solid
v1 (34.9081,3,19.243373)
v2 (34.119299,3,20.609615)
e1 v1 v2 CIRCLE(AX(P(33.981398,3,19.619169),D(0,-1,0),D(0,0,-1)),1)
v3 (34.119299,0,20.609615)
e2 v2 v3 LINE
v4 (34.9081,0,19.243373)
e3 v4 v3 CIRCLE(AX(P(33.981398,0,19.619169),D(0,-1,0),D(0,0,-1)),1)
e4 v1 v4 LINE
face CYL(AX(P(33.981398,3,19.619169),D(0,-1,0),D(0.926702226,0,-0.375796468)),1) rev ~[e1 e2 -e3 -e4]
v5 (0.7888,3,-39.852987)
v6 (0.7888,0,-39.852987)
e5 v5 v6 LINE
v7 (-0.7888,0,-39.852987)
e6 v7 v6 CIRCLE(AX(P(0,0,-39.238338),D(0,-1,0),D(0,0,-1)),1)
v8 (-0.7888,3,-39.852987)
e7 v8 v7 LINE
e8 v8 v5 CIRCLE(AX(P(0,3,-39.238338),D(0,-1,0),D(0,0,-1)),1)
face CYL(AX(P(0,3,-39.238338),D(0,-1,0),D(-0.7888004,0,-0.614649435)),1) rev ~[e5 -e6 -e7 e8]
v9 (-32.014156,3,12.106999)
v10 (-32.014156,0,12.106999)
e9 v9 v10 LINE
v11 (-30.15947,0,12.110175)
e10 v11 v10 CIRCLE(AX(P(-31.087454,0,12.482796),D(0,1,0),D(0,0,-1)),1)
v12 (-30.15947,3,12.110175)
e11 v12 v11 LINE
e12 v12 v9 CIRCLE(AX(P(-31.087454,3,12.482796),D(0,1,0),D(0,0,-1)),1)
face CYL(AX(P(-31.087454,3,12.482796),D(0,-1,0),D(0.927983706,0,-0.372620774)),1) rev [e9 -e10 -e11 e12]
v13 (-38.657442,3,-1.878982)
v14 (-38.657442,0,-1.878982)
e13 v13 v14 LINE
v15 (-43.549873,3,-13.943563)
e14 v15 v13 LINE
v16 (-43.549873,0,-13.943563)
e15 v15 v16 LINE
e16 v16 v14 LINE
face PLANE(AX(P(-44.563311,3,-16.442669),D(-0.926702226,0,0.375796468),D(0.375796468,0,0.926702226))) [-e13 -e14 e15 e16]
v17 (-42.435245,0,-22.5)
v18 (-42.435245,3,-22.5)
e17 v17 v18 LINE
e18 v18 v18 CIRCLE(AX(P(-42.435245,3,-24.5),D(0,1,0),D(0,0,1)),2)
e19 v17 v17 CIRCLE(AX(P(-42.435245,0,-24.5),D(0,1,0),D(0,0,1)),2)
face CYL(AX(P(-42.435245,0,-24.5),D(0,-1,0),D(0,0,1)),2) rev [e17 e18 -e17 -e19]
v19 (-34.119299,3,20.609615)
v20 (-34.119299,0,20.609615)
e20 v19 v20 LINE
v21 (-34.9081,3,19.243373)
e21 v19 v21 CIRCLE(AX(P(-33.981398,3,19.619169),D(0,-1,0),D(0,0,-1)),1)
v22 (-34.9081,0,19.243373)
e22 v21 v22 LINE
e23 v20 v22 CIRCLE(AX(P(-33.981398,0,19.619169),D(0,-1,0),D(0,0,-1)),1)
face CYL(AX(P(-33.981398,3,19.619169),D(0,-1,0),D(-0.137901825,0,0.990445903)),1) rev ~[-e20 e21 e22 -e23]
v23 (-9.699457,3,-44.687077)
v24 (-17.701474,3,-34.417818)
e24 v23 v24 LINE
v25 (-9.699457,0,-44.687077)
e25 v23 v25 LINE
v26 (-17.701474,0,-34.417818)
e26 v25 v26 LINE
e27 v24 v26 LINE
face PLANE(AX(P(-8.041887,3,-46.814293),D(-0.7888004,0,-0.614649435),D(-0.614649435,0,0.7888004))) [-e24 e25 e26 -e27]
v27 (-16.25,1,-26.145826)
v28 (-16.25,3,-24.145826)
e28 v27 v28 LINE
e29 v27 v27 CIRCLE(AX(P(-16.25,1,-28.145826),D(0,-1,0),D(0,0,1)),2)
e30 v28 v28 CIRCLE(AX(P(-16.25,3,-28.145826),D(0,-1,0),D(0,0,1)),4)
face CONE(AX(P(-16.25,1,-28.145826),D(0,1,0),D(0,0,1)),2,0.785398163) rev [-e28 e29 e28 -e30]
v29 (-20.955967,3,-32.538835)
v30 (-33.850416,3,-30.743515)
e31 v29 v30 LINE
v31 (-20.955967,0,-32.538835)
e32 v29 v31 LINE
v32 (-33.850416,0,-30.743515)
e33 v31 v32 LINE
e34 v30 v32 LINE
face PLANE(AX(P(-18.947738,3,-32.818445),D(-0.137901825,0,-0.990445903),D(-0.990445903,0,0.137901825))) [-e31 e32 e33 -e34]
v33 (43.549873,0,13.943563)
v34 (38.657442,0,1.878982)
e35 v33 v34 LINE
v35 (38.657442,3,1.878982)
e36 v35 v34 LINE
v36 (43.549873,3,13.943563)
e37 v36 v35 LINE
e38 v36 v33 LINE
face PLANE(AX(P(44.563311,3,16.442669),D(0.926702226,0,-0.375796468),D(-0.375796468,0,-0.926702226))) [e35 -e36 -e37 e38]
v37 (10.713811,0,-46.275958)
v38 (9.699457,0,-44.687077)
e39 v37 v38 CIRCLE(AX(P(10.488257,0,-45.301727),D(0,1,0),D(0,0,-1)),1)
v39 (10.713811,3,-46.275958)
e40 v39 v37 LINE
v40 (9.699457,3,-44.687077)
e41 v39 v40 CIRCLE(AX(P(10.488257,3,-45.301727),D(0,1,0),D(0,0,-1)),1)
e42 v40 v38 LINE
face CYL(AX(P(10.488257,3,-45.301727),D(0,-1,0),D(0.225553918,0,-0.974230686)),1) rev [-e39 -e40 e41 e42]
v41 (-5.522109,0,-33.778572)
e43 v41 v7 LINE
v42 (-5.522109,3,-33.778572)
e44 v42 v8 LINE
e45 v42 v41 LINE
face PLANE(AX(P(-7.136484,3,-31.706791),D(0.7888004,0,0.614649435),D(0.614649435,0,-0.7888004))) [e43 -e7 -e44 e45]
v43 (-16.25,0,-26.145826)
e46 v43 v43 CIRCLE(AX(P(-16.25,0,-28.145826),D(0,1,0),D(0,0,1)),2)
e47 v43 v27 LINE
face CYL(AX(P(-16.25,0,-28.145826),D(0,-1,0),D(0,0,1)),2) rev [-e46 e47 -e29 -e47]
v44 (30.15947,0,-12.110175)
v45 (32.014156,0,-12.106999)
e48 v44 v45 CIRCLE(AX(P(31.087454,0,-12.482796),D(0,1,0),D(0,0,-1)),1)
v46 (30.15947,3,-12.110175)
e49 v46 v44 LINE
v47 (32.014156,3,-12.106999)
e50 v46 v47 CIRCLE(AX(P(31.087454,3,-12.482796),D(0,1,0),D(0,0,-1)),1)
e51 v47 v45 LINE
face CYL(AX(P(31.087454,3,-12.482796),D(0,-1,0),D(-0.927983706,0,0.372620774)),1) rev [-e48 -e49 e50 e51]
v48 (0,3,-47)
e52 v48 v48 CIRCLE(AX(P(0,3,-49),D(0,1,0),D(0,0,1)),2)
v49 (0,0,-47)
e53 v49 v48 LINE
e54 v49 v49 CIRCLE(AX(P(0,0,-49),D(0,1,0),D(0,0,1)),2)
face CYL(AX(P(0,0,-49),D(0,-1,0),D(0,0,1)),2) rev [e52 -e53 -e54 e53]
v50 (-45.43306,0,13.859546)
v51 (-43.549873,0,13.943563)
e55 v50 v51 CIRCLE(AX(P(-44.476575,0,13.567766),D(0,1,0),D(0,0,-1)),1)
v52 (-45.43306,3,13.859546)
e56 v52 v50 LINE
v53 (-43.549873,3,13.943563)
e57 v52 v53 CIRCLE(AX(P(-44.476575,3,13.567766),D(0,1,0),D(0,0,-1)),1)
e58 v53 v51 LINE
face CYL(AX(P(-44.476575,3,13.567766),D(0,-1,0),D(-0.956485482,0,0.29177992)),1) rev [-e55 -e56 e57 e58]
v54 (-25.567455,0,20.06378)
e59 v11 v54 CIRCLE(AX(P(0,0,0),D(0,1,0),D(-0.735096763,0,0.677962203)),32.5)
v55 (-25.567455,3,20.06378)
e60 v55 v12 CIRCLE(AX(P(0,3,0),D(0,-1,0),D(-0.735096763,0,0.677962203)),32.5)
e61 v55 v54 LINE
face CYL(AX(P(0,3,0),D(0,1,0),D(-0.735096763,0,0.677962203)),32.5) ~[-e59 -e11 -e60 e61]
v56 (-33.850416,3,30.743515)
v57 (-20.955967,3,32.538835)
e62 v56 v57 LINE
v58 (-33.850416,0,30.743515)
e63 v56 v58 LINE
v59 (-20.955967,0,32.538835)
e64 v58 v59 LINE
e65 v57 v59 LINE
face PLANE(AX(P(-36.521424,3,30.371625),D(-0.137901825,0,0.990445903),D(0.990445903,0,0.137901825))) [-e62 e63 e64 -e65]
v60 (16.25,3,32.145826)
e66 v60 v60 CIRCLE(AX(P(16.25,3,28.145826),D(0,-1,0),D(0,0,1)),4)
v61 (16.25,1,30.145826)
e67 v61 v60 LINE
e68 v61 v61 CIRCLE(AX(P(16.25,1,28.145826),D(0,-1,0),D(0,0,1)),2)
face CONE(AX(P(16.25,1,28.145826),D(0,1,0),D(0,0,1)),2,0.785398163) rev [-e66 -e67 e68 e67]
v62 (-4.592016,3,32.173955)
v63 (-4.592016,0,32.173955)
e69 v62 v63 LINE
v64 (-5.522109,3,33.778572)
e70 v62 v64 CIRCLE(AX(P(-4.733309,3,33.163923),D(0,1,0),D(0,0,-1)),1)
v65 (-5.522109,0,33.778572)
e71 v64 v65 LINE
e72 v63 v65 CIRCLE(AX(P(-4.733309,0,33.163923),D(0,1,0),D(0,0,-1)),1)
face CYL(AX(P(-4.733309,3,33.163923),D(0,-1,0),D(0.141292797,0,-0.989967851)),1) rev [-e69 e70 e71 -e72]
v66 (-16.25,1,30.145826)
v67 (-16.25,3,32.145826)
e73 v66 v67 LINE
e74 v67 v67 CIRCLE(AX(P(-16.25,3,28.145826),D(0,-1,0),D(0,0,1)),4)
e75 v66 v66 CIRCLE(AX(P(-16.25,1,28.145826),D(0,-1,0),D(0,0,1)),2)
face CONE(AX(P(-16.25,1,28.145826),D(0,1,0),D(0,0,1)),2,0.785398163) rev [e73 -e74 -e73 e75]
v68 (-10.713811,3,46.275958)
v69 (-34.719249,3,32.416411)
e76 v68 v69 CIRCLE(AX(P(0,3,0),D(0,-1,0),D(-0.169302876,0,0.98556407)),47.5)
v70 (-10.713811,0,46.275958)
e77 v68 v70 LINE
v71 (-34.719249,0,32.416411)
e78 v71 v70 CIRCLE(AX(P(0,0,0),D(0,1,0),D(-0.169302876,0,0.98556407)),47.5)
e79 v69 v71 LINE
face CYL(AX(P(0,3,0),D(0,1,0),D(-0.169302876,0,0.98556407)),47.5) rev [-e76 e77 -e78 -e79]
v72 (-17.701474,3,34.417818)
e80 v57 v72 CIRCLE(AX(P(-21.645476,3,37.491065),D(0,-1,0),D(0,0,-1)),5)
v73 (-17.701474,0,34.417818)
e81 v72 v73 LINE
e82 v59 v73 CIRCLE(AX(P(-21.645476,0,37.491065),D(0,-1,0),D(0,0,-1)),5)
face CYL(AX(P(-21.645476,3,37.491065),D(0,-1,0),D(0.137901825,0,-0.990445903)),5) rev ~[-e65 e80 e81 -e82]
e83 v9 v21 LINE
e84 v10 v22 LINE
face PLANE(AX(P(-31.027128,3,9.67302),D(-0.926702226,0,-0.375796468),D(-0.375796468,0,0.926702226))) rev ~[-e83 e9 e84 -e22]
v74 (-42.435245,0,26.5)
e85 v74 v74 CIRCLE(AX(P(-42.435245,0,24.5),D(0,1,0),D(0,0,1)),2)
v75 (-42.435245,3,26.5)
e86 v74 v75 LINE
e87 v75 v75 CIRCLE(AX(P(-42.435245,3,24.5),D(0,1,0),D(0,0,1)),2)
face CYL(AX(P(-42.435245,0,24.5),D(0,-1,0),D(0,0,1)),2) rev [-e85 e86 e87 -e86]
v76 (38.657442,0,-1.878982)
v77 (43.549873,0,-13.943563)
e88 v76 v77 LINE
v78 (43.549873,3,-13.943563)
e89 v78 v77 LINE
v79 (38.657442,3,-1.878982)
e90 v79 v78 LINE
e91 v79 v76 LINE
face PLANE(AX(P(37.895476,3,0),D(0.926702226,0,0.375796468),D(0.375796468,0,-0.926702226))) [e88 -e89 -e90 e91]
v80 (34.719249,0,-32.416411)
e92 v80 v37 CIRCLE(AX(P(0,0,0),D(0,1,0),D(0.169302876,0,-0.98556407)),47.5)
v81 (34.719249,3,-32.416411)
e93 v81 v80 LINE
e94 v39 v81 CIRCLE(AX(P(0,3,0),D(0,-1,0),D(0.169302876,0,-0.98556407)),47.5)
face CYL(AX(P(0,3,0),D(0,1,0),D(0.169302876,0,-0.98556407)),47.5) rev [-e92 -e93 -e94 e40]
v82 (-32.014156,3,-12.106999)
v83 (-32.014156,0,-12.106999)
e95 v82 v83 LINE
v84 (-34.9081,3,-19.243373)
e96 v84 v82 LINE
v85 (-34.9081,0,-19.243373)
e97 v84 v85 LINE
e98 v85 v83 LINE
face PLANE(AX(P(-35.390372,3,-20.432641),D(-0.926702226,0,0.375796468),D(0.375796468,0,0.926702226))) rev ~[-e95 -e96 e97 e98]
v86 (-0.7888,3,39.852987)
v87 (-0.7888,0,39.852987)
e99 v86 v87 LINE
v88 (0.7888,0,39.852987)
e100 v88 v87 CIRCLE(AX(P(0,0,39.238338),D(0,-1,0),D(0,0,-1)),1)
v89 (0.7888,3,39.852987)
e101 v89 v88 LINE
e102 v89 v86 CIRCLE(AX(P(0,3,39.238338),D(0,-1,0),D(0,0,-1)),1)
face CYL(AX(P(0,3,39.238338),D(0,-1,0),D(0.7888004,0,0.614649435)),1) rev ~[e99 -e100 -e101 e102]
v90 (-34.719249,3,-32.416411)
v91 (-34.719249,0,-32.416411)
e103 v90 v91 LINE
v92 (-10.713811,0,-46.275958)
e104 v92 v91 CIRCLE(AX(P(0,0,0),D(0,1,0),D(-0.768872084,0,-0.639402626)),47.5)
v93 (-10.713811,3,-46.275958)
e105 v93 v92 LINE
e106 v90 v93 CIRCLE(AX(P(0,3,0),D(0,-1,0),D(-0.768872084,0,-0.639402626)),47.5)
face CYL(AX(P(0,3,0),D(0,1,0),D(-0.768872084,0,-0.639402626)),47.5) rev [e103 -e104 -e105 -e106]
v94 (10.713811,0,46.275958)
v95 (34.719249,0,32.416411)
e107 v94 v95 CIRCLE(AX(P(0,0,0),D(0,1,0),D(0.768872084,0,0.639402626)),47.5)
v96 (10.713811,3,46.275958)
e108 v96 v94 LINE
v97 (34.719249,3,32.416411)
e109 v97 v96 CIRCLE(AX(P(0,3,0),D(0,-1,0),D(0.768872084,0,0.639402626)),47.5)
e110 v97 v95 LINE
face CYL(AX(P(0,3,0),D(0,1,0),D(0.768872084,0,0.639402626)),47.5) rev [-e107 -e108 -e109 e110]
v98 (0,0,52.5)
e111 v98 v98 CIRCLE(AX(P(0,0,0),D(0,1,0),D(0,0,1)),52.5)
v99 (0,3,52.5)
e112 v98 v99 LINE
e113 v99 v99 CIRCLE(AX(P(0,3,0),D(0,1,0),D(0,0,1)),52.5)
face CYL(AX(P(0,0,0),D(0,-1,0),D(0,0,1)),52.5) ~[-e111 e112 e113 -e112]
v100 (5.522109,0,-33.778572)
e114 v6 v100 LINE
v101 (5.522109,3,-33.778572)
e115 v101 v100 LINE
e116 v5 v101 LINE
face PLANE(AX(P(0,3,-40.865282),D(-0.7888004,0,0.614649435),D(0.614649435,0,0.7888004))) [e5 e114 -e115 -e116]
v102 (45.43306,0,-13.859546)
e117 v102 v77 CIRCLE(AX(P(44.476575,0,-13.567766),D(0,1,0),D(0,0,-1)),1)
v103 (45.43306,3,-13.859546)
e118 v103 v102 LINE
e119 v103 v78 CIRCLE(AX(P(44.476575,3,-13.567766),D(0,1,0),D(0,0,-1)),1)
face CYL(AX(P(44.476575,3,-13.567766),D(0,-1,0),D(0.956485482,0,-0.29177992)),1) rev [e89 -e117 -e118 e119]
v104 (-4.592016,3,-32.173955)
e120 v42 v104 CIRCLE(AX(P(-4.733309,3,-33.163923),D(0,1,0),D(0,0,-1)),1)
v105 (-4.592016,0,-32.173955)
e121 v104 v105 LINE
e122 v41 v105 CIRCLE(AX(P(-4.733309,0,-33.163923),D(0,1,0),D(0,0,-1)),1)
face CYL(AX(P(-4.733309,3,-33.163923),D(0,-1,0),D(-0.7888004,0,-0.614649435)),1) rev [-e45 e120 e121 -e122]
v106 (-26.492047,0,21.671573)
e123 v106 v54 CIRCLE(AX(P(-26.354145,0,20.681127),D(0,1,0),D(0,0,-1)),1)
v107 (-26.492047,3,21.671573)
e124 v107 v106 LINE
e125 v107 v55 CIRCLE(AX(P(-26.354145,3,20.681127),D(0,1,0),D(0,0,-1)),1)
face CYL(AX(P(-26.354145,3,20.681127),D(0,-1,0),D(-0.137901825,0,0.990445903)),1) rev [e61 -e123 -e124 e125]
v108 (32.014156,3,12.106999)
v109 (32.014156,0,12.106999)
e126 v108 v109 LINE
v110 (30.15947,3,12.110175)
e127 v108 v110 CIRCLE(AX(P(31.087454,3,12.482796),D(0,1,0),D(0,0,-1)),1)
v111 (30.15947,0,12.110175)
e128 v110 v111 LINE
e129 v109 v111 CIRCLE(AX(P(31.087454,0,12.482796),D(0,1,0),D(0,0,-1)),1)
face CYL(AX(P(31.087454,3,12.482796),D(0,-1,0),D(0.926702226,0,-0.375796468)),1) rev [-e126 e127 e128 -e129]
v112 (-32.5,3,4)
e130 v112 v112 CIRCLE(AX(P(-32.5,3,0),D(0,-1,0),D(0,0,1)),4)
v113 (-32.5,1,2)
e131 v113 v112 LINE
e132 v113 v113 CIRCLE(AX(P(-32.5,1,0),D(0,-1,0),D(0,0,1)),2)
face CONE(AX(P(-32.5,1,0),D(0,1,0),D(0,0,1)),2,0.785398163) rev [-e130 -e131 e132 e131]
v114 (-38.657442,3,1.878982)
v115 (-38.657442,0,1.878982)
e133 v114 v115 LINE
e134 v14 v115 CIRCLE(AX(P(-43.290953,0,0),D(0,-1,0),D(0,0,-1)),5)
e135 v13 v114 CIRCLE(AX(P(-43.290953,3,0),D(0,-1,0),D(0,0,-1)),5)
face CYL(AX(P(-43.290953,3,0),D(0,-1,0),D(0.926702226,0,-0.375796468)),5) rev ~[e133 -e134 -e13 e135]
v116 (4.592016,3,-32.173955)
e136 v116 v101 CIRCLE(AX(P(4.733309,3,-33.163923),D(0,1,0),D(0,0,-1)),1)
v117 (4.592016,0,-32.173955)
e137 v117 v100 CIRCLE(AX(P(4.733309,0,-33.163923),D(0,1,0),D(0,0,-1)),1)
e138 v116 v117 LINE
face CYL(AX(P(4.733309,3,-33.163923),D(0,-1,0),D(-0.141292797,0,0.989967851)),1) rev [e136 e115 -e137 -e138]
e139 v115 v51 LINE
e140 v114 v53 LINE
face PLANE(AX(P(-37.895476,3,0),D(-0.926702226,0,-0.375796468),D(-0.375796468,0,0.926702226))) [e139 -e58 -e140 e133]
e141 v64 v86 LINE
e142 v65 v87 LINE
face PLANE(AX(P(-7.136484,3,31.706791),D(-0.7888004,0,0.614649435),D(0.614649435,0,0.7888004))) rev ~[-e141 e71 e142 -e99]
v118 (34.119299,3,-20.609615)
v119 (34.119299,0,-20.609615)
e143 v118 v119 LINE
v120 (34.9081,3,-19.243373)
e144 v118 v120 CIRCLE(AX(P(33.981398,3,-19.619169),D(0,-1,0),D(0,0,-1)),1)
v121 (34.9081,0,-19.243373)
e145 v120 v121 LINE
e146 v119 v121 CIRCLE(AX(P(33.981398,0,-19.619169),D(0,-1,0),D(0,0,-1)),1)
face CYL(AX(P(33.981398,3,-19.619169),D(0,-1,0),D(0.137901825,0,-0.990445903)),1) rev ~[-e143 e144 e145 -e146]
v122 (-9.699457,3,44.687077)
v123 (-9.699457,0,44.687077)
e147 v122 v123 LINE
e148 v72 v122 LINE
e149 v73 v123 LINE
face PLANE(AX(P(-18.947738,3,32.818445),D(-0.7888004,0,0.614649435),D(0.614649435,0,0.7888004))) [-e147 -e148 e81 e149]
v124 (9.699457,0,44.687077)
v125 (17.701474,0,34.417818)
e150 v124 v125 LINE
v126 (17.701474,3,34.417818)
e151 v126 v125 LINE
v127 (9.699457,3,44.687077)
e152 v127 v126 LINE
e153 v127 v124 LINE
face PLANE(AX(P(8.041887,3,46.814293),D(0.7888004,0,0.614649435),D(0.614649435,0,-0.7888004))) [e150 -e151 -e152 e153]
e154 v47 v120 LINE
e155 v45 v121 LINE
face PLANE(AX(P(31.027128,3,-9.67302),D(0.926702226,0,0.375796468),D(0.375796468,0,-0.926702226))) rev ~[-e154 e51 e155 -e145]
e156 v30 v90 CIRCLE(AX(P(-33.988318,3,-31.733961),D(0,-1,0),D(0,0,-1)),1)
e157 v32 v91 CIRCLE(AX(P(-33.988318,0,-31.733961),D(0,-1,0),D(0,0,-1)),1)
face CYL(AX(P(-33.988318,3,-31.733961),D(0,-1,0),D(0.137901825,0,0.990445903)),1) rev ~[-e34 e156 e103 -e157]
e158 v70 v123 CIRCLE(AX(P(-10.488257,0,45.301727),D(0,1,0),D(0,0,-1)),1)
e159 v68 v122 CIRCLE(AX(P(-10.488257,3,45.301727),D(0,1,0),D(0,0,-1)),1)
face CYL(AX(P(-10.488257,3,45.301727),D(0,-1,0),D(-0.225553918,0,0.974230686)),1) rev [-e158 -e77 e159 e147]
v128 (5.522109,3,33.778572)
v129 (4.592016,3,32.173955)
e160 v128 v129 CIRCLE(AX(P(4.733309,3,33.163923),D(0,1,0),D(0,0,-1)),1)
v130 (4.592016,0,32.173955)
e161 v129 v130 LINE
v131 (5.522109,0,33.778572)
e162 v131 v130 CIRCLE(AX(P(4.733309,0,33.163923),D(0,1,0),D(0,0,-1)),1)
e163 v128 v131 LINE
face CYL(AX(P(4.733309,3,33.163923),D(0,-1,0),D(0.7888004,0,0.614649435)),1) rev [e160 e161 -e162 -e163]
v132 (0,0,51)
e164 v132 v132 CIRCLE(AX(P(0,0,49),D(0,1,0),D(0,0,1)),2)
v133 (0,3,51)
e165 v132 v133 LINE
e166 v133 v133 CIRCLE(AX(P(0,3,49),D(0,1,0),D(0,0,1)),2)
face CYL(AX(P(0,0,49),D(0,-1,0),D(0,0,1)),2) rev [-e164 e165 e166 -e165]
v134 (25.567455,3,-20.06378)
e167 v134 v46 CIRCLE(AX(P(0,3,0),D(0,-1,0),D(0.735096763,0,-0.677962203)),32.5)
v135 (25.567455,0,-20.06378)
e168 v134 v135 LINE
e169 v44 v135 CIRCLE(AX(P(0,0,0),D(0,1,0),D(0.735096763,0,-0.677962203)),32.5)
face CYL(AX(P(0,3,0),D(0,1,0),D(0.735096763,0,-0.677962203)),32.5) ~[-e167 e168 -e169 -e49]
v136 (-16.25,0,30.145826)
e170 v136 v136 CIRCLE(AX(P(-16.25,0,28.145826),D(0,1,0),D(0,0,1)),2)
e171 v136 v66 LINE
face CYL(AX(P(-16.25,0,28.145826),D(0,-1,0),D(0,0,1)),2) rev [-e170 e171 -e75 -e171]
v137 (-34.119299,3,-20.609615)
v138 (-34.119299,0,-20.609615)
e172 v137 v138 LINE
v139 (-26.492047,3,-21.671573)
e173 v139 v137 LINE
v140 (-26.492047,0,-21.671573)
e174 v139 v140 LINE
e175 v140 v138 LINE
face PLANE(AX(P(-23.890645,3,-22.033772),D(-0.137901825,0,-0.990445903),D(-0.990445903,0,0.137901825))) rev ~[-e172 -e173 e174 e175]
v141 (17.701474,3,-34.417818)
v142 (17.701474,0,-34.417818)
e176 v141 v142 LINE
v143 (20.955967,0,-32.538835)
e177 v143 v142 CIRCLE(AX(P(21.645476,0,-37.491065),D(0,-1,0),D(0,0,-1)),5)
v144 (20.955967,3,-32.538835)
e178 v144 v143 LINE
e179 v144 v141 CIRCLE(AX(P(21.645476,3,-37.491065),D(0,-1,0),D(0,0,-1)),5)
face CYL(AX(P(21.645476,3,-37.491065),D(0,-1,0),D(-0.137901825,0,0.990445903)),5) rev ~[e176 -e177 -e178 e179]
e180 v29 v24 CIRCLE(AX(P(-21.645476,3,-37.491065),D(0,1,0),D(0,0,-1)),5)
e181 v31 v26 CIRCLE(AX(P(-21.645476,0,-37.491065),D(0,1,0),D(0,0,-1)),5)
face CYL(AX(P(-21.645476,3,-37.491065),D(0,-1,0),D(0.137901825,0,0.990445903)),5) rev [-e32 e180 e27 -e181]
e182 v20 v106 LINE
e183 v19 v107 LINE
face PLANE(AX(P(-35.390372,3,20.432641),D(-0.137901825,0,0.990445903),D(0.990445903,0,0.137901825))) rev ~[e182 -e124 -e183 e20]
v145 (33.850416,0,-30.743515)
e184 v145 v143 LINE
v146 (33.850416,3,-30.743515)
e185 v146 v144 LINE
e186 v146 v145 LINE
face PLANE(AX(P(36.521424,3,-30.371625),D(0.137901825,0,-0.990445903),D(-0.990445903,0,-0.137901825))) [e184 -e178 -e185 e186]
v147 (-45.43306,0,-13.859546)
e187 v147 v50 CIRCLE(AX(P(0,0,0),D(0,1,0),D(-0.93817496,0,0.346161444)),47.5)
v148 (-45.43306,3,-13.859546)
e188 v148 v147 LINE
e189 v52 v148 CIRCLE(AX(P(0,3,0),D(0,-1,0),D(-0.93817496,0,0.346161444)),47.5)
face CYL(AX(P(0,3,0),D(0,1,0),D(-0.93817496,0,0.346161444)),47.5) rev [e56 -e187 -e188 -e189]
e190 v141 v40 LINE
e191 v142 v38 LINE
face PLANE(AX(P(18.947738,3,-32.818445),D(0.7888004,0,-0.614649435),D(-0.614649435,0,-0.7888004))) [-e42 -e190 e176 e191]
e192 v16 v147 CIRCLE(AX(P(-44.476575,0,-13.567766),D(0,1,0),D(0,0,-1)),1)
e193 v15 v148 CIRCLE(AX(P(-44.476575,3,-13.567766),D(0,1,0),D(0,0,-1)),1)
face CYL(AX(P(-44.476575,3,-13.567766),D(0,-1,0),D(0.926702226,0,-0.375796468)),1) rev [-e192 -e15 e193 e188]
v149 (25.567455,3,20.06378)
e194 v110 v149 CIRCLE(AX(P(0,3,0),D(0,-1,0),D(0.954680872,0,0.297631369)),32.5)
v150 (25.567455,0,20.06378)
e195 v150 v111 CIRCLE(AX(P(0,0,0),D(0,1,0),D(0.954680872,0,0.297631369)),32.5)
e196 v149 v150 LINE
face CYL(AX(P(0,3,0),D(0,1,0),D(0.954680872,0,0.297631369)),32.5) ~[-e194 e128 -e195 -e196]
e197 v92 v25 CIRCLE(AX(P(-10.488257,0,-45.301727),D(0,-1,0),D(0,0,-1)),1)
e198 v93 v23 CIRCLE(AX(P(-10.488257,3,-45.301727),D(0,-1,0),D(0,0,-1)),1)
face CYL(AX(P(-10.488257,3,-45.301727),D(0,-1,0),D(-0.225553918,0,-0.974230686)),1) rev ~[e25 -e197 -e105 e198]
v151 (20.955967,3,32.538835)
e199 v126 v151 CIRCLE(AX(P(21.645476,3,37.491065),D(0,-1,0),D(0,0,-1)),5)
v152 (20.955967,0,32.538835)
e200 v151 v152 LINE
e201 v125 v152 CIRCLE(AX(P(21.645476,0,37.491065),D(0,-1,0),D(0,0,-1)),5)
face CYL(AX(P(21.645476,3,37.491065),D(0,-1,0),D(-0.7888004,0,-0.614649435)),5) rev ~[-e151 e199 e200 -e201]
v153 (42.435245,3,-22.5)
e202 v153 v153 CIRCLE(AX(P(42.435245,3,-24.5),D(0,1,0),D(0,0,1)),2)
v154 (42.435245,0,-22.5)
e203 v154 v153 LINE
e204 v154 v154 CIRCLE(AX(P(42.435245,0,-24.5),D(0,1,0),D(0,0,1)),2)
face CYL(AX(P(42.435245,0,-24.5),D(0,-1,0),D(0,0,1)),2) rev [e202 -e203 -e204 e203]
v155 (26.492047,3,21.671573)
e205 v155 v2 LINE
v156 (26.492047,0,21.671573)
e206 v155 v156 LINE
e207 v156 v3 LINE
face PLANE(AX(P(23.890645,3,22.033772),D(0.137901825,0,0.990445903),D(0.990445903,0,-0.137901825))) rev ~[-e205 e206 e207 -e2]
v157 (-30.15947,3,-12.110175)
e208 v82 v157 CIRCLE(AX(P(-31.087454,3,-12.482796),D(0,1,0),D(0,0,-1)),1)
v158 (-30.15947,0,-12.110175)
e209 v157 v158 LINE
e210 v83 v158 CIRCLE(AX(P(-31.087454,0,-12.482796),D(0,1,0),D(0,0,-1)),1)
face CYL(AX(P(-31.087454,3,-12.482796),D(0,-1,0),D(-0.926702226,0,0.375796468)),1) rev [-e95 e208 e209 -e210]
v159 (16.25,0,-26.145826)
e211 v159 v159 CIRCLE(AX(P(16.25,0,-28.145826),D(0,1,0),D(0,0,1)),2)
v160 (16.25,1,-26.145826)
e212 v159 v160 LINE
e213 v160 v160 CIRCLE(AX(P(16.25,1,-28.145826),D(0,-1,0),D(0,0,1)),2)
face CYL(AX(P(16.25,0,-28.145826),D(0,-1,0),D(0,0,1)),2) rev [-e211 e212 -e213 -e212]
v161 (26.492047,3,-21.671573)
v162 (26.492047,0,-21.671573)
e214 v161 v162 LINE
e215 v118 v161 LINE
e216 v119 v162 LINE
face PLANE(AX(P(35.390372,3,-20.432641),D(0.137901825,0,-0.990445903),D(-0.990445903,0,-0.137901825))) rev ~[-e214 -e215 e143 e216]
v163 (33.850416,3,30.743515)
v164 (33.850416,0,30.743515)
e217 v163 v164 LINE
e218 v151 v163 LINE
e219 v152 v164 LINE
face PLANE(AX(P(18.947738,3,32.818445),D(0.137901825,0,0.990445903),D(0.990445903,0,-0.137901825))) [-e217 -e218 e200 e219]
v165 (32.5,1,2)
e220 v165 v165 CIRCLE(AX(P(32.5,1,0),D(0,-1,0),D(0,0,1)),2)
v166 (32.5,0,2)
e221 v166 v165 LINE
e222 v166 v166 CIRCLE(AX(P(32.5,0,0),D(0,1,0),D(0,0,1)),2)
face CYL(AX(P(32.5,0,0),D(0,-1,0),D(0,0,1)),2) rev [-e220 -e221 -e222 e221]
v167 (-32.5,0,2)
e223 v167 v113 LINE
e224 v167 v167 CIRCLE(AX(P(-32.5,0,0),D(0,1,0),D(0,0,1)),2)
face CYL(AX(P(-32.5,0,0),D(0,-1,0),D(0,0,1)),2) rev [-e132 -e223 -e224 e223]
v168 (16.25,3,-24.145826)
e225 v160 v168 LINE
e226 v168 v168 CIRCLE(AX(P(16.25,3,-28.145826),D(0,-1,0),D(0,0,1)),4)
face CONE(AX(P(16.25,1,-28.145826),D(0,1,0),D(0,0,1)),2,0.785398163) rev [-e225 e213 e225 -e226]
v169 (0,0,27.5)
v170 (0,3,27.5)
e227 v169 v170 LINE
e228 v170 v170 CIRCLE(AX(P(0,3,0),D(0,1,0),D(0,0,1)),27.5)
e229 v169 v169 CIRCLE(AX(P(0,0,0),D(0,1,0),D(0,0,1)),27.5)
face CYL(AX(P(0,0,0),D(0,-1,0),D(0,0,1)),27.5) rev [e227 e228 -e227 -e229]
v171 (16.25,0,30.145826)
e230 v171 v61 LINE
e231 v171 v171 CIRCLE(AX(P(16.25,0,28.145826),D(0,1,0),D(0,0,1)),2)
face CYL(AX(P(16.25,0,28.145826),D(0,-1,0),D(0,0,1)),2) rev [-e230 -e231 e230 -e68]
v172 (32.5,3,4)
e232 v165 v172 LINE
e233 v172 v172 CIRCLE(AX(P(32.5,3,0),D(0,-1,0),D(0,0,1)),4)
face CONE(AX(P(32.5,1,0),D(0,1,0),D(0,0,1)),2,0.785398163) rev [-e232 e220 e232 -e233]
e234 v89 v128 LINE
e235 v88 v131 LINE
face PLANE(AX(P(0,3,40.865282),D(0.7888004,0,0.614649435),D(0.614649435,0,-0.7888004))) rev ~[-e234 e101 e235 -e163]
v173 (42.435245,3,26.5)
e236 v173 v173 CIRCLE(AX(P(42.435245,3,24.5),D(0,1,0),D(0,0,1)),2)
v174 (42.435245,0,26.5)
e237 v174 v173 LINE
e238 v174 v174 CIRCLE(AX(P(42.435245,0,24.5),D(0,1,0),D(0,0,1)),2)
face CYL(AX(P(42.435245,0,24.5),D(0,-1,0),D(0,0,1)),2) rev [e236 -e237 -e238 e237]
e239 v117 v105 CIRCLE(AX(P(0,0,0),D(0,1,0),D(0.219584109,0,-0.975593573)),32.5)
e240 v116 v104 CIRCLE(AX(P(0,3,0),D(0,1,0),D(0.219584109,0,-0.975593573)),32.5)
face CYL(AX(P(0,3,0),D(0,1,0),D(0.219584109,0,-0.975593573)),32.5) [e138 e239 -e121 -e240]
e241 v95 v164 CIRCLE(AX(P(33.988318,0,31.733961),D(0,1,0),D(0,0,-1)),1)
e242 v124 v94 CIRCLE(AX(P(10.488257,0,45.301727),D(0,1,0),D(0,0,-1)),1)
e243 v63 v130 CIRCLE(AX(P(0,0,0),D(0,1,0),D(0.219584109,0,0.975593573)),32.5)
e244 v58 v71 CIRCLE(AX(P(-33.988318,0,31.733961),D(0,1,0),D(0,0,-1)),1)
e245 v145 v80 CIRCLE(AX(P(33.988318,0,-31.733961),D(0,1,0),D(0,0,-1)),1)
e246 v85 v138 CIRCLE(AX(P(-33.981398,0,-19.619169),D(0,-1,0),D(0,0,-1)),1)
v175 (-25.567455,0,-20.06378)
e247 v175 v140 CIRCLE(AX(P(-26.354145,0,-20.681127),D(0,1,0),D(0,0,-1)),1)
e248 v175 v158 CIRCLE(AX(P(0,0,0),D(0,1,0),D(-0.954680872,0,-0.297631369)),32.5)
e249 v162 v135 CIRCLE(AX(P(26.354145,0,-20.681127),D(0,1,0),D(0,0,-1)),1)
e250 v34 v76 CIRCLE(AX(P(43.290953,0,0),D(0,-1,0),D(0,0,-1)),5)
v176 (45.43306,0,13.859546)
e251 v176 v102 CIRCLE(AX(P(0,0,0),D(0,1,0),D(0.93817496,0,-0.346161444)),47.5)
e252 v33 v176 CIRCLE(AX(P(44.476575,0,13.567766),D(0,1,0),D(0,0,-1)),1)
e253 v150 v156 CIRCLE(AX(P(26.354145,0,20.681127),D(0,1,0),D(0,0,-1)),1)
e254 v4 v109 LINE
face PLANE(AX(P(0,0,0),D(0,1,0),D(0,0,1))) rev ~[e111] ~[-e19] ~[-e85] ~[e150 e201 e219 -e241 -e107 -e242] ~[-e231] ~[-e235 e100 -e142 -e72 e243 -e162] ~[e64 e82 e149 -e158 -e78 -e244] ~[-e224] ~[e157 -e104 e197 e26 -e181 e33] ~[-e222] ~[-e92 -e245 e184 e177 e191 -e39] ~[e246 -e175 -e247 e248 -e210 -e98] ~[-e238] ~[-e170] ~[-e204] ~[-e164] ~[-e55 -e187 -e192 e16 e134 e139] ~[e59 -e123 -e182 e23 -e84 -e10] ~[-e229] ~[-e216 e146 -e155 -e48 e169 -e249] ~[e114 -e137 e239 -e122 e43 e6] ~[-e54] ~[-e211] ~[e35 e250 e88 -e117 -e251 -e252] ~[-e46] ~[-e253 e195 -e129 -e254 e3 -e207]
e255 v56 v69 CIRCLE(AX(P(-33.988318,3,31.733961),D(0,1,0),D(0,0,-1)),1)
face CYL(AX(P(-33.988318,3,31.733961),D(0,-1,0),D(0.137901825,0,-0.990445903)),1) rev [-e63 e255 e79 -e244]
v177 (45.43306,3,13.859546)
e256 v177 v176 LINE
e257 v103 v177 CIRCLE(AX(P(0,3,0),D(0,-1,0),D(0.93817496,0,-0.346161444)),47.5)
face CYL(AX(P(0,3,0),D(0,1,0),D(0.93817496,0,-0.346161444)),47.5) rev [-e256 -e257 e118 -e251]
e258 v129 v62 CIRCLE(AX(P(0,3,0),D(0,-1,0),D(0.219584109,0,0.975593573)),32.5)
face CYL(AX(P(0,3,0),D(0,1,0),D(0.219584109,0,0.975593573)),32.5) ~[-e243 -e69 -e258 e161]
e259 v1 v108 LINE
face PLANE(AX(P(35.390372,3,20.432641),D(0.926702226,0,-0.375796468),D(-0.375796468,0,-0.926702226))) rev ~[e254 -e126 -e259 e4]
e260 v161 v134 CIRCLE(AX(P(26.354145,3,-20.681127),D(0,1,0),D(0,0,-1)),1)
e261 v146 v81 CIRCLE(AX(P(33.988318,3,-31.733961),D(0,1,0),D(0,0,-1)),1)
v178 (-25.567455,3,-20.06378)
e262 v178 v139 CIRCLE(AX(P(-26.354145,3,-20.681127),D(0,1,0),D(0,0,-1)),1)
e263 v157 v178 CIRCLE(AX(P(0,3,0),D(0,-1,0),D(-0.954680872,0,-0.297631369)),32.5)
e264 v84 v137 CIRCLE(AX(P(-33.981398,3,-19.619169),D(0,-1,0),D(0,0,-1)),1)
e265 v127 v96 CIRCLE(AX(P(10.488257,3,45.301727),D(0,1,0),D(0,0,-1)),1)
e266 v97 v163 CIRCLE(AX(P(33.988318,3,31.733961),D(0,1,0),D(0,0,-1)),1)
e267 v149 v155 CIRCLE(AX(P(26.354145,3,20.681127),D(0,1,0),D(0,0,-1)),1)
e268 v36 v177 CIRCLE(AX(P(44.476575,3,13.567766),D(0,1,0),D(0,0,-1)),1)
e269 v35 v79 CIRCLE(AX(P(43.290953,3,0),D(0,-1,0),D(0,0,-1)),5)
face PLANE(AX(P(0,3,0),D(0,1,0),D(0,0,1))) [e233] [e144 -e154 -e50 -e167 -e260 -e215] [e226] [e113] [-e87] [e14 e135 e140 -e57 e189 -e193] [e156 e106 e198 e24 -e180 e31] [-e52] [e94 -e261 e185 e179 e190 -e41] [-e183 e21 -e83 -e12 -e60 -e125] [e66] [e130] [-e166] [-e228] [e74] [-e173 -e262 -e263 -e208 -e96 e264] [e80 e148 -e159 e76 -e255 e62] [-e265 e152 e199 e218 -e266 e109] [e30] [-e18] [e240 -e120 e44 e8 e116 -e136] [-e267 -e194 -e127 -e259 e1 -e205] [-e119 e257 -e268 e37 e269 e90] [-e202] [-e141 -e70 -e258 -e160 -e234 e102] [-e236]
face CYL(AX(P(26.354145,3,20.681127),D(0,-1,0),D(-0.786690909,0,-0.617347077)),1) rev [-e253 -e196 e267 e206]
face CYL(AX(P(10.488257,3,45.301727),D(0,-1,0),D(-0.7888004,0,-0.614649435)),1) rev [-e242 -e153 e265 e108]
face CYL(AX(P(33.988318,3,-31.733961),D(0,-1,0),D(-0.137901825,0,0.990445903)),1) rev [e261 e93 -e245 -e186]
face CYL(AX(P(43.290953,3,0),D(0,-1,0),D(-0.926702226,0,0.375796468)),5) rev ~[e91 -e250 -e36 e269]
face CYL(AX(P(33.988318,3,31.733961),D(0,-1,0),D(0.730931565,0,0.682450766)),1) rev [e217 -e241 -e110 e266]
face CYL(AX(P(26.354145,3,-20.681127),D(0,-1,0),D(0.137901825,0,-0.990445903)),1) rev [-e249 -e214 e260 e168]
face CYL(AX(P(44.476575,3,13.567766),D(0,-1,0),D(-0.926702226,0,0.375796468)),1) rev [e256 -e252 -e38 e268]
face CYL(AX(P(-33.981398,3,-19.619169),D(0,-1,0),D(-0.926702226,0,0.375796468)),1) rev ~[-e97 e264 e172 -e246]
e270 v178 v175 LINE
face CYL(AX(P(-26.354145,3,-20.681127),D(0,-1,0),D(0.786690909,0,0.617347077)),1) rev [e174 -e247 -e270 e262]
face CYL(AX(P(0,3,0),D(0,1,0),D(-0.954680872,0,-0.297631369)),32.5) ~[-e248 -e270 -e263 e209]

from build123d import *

# Parameters (mm, degrees)
SKETCH_1_R               = 52.5
SKETCH_1_R_2             = 2
SKETCH_1_R_3             = 27.5
EXTRUDE_1_DEPTH          = 3
HOLE_WIZARD_1_AT_2_COUNT = 2
HOLE_WIZARD_1_AT_2_PITCH = 32.5
HOLE_WIZARD_1_AT_3_COUNT = 2
HOLE_WIZARD_1_AT_3_PITCH = 56.291651246
HOLE_WIZARD_1_AT_4_COUNT = 2
HOLE_WIZARD_1_AT_4_PITCH = 65
HOLE_WIZARD_1_AT_5_COUNT = 2
HOLE_WIZARD_1_AT_5_PITCH = 56.291651246
HOLE_WIZARD_1_AT_6_COUNT = 2
HOLE_WIZARD_1_AT_6_PITCH = 32.5
CUT_EXTRUDE_1_DEPTH      = 10
FILLET_1_R               = 5
FILLET_2_R               = 1


with BuildPart() as part:
    # 草图1 → 凸台-拉伸1 (new body)
    with BuildSketch(Plane(origin=(0, 0, 0), x_dir=(1, 0, 0), z_dir=(0, 1, 0))):
        with Locations(Location((0, 0, 0), (0, 0, 270))):
            Circle(SKETCH_1_R)
        with Locations(Location((0, 49, 0), (0, 0, 270))):
            Circle(SKETCH_1_R_2, mode=Mode.SUBTRACT)
        with Locations(Location((-16.25, 28.145825623, 0), (0, 0, 270))):
            Circle(SKETCH_1_R_2, mode=Mode.SUBTRACT)
        with Locations(Location((42.435244785, 24.5, 0), (0, 0, 270))):
            Circle(SKETCH_1_R_2, mode=Mode.SUBTRACT)
        with Locations(Location((16.25, 28.145825623, 0), (0, 0, 270))):
            Circle(SKETCH_1_R_2, mode=Mode.SUBTRACT)
        with Locations(Location((42.435244785, -24.5, 0), (0, 0, 270))):
            Circle(SKETCH_1_R_2, mode=Mode.SUBTRACT)
        with Locations(Location((32.5, 0, 0), (0, 0, 270))):
            Circle(SKETCH_1_R_2, mode=Mode.SUBTRACT)
        with Locations(Location((0, -49, 0), (0, 0, 270))):
            Circle(SKETCH_1_R_2, mode=Mode.SUBTRACT)
        with Locations(Location((16.25, -28.145825623, 0), (0, 0, 270))):
            Circle(SKETCH_1_R_2, mode=Mode.SUBTRACT)
        with Locations(Location((-42.435244785, -24.5, 0), (0, 0, 270))):
            Circle(SKETCH_1_R_2, mode=Mode.SUBTRACT)
        with Locations(Location((-16.25, -28.145825623, 0), (0, 0, 270))):
            Circle(SKETCH_1_R_2, mode=Mode.SUBTRACT)
        with Locations(Location((-42.435244785, 24.5, 0), (0, 0, 270))):
            Circle(SKETCH_1_R_2, mode=Mode.SUBTRACT)
        with Locations(Location((-32.5, 0, 0), (0, 0, 270))):
            Circle(SKETCH_1_R_2, mode=Mode.SUBTRACT)
        with Locations(Location((0, 0, 0), (0, 0, 270))):
            Circle(SKETCH_1_R_3, mode=Mode.SUBTRACT)
    extrude(amount=EXTRUDE_1_DEPTH)

    # 草图3 → 孔1 (revolve, cut)
    with BuildSketch(Plane(origin=(-16.25, 3, -28.145825623), x_dir=(0, 0, 1), z_dir=(1, 0, 0))):
        Polygon((0, 0), (0, 3), (2, 3), (2, 2), (4, 0), align=None)
    hole_wizard_1 = revolve(axis=Axis((-16.25, 9.445314094, -28.145825623), (0, -1, 0)), mode=Mode.SUBTRACT)

    # 孔1 at 2: 孔1 ×2
    with Locations(*[(i * HOLE_WIZARD_1_AT_2_PITCH, 0, 0) for i in range(1, HOLE_WIZARD_1_AT_2_COUNT)]):
        add(hole_wizard_1, mode=Mode.SUBTRACT)

    # 孔1 at 3: 孔1 ×2
    with Locations(*[Vector(0.8660254037844387, 0, 0.5) * (i * HOLE_WIZARD_1_AT_3_PITCH) for i in range(1, HOLE_WIZARD_1_AT_3_COUNT)]):
        add(hole_wizard_1, mode=Mode.SUBTRACT)

    # 孔1 at 4: 孔1 ×2
    with Locations(*[Vector(0.5000000000000001, 0, 0.8660254037844386) * (i * HOLE_WIZARD_1_AT_4_PITCH) for i in range(1, HOLE_WIZARD_1_AT_4_COUNT)]):
        add(hole_wizard_1, mode=Mode.SUBTRACT)

    # 孔1 at 5: 孔1 ×2
    with Locations(*[(0, 0, i * HOLE_WIZARD_1_AT_5_PITCH) for i in range(1, HOLE_WIZARD_1_AT_5_COUNT)]):
        add(hole_wizard_1, mode=Mode.SUBTRACT)

    # 孔1 at 6: 孔1 ×2
    with Locations(*[Vector(-0.5000000000000003, 0, 0.8660254037844386) * (i * HOLE_WIZARD_1_AT_6_PITCH) for i in range(1, HOLE_WIZARD_1_AT_6_COUNT)]):
        add(hole_wizard_1, mode=Mode.SUBTRACT)

    # 草图5 → 切除-拉伸1 (cut)
    with BuildSketch(Plane(origin=(0, 3, 0), x_dir=(1, 0, 0), z_dir=(0, 1, 0))):
        with BuildLine():
            Line((-8.041886602, 46.814293329), (-18.947738206, 32.818445262))
            Line((-18.947738206, 32.818445262), (-36.521423982, 30.371624756))
            ThreePointArc((-36.521423982, 30.371624756), (-23.75, 41.13620668), (-8.041886602, 46.814293329))
        make_face()
        with BuildLine():
            Line((0, 40.865281716), (7.136483547, 31.706791111))
            ThreePointArc((7.136483547, 31.706791111), (0, 32.5), (-7.136483547, 31.706791111))
            Line((-7.136483547, 31.706791111), (0, 40.865281716))
        make_face()
        with BuildLine():
            Line((18.947738206, 32.818445262), (8.041886602, 46.814293329))
            ThreePointArc((8.041886602, 46.814293329), (23.75, 41.13620668), (36.521423982, 30.371624756))
            Line((36.521423982, 30.371624756), (18.947738206, 32.818445262))
        make_face()
        with BuildLine():
            Line((35.390372099, 20.432640858), (23.890644801, 22.033771601))
            ThreePointArc((23.890644801, 22.033771601), (28.145825623, 16.25), (31.027128348, 9.67301951))
            Line((31.027128348, 9.67301951), (35.390372099, 20.432640858))
        make_face()
        with BuildLine():
            Line((37.895476413, 0), (44.563310584, 16.442668573))
            ThreePointArc((44.563310584, 16.442668573), (47.5, 0), (44.563310584, -16.442668573))
            Line((44.563310584, -16.442668573), (37.895476413, 0))
        make_face()
        with BuildLine():
            Line((35.390372099, -20.432640858), (31.027128348, -9.67301951))
            ThreePointArc((31.027128348, -9.67301951), (28.145825623, -16.25), (23.890644801, -22.033771601))
            Line((23.890644801, -22.033771601), (35.390372099, -20.432640858))
        make_face()
        with BuildLine():
            Line((18.947738206, -32.818445262), (36.521423982, -30.371624756))
            ThreePointArc((36.521423982, -30.371624756), (23.75, -41.13620668), (8.041886602, -46.814293329))
            Line((8.041886602, -46.814293329), (18.947738206, -32.818445262))
        make_face()
        with BuildLine():
            Line((0, -40.865281716), (7.136483547, -31.706791111))
            ThreePointArc((7.136483547, -31.706791111), (0, -32.5), (-7.136483547, -31.706791111))
            Line((-7.136483547, -31.706791111), (0, -40.865281716))
        make_face()
        with BuildLine():
            Line((-18.947738206, -32.818445262), (-8.041886602, -46.814293329))
            ThreePointArc((-8.041886602, -46.814293329), (-23.75, -41.13620668), (-36.521423982, -30.371624756))
            Line((-36.521423982, -30.371624756), (-18.947738206, -32.818445262))
        make_face()
        with BuildLine():
            Line((-35.390372099, -20.432640858), (-23.890644801, -22.033771601))
            ThreePointArc((-23.890644801, -22.033771601), (-28.145825623, -16.25), (-31.027128348, -9.67301951))
            Line((-31.027128348, -9.67301951), (-35.390372099, -20.432640858))
        make_face()
        with BuildLine():
            Line((-37.895476413, 0), (-44.563310584, -16.442668573))
            ThreePointArc((-44.563310584, -16.442668573), (-47.5, 0), (-44.563310584, 16.442668573))
            Line((-44.563310584, 16.442668573), (-37.895476413, 0))
        make_face()
        with BuildLine():
            Line((-35.390372099, 20.432640858), (-31.027128348, 9.67301951))
            ThreePointArc((-31.027128348, 9.67301951), (-28.145825623, 16.25), (-23.890644801, 22.033771601))
            Line((-23.890644801, 22.033771601), (-35.390372099, 20.432640858))
        make_face()
    extrude(amount=-CUT_EXTRUDE_1_DEPTH, mode=Mode.SUBTRACT)

    # 圆角1
    fillet_1_edges = [part.edges().sort_by_distance(p)[0] for p in [
        (-18.947738206, 1.5, 32.818445262),
        (18.947738206, 1.5, 32.818445262),
        (37.895476413, 1.5, 0),
        (18.947738206, 1.5, -32.818445262),
        (-37.895476413, 1.5, 0),
        (-18.947738206, 1.5, -32.818445262),
    ]]
    fillet(fillet_1_edges, radius=FILLET_1_R)

    # 圆角2
    fillet_2_edges = [part.edges().sort_by_distance(p)[0] for p in [
        (-8.041886602, 1.5, 46.814293329),
        (-36.521423982, 1.5, 30.371624756),
        (0, 1.5, 40.865281716),
        (-7.136483547, 1.5, 31.706791111),
        (7.136483547, 1.5, 31.706791111),
        (36.521423982, 1.5, 30.371624756),
        (8.041886602, 1.5, 46.814293329),
        (35.390372099, 1.5, 20.432640858),
        (23.890644801, 1.5, 22.033771601),
        (31.027128348, 1.5, 9.67301951),
        (44.563310584, 1.5, -16.442668573),
        (44.563310584, 1.5, 16.442668573),
        (35.390372099, 1.5, -20.432640858),
        (31.027128348, 1.5, -9.67301951),
        (23.890644801, 1.5, -22.033771601),
        (8.041886602, 1.5, -46.814293329),
        (36.521423982, 1.5, -30.371624756),
        (-7.136483547, 1.5, -31.706791111),
        (0, 1.5, -40.865281716),
        (7.136483547, 1.5, -31.706791111),
        (-35.390372099, 1.5, -20.432640858),
        (-23.890644801, 1.5, -22.033771601),
        (-31.027128348, 1.5, -9.67301951),
        (-44.563310584, 1.5, 16.442668573),
        (-44.563310584, 1.5, -16.442668573),
        (-35.390372099, 1.5, 20.432640858),
        (-31.027128348, 1.5, 9.67301951),
        (-23.890644801, 1.5, 22.033771601),
        (-36.521423982, 1.5, -30.371624756),
        (-8.041886602, 1.5, -46.814293329),
    ]]
    fillet(fillet_2_edges, radius=FILLET_2_R)


solid = part.part
